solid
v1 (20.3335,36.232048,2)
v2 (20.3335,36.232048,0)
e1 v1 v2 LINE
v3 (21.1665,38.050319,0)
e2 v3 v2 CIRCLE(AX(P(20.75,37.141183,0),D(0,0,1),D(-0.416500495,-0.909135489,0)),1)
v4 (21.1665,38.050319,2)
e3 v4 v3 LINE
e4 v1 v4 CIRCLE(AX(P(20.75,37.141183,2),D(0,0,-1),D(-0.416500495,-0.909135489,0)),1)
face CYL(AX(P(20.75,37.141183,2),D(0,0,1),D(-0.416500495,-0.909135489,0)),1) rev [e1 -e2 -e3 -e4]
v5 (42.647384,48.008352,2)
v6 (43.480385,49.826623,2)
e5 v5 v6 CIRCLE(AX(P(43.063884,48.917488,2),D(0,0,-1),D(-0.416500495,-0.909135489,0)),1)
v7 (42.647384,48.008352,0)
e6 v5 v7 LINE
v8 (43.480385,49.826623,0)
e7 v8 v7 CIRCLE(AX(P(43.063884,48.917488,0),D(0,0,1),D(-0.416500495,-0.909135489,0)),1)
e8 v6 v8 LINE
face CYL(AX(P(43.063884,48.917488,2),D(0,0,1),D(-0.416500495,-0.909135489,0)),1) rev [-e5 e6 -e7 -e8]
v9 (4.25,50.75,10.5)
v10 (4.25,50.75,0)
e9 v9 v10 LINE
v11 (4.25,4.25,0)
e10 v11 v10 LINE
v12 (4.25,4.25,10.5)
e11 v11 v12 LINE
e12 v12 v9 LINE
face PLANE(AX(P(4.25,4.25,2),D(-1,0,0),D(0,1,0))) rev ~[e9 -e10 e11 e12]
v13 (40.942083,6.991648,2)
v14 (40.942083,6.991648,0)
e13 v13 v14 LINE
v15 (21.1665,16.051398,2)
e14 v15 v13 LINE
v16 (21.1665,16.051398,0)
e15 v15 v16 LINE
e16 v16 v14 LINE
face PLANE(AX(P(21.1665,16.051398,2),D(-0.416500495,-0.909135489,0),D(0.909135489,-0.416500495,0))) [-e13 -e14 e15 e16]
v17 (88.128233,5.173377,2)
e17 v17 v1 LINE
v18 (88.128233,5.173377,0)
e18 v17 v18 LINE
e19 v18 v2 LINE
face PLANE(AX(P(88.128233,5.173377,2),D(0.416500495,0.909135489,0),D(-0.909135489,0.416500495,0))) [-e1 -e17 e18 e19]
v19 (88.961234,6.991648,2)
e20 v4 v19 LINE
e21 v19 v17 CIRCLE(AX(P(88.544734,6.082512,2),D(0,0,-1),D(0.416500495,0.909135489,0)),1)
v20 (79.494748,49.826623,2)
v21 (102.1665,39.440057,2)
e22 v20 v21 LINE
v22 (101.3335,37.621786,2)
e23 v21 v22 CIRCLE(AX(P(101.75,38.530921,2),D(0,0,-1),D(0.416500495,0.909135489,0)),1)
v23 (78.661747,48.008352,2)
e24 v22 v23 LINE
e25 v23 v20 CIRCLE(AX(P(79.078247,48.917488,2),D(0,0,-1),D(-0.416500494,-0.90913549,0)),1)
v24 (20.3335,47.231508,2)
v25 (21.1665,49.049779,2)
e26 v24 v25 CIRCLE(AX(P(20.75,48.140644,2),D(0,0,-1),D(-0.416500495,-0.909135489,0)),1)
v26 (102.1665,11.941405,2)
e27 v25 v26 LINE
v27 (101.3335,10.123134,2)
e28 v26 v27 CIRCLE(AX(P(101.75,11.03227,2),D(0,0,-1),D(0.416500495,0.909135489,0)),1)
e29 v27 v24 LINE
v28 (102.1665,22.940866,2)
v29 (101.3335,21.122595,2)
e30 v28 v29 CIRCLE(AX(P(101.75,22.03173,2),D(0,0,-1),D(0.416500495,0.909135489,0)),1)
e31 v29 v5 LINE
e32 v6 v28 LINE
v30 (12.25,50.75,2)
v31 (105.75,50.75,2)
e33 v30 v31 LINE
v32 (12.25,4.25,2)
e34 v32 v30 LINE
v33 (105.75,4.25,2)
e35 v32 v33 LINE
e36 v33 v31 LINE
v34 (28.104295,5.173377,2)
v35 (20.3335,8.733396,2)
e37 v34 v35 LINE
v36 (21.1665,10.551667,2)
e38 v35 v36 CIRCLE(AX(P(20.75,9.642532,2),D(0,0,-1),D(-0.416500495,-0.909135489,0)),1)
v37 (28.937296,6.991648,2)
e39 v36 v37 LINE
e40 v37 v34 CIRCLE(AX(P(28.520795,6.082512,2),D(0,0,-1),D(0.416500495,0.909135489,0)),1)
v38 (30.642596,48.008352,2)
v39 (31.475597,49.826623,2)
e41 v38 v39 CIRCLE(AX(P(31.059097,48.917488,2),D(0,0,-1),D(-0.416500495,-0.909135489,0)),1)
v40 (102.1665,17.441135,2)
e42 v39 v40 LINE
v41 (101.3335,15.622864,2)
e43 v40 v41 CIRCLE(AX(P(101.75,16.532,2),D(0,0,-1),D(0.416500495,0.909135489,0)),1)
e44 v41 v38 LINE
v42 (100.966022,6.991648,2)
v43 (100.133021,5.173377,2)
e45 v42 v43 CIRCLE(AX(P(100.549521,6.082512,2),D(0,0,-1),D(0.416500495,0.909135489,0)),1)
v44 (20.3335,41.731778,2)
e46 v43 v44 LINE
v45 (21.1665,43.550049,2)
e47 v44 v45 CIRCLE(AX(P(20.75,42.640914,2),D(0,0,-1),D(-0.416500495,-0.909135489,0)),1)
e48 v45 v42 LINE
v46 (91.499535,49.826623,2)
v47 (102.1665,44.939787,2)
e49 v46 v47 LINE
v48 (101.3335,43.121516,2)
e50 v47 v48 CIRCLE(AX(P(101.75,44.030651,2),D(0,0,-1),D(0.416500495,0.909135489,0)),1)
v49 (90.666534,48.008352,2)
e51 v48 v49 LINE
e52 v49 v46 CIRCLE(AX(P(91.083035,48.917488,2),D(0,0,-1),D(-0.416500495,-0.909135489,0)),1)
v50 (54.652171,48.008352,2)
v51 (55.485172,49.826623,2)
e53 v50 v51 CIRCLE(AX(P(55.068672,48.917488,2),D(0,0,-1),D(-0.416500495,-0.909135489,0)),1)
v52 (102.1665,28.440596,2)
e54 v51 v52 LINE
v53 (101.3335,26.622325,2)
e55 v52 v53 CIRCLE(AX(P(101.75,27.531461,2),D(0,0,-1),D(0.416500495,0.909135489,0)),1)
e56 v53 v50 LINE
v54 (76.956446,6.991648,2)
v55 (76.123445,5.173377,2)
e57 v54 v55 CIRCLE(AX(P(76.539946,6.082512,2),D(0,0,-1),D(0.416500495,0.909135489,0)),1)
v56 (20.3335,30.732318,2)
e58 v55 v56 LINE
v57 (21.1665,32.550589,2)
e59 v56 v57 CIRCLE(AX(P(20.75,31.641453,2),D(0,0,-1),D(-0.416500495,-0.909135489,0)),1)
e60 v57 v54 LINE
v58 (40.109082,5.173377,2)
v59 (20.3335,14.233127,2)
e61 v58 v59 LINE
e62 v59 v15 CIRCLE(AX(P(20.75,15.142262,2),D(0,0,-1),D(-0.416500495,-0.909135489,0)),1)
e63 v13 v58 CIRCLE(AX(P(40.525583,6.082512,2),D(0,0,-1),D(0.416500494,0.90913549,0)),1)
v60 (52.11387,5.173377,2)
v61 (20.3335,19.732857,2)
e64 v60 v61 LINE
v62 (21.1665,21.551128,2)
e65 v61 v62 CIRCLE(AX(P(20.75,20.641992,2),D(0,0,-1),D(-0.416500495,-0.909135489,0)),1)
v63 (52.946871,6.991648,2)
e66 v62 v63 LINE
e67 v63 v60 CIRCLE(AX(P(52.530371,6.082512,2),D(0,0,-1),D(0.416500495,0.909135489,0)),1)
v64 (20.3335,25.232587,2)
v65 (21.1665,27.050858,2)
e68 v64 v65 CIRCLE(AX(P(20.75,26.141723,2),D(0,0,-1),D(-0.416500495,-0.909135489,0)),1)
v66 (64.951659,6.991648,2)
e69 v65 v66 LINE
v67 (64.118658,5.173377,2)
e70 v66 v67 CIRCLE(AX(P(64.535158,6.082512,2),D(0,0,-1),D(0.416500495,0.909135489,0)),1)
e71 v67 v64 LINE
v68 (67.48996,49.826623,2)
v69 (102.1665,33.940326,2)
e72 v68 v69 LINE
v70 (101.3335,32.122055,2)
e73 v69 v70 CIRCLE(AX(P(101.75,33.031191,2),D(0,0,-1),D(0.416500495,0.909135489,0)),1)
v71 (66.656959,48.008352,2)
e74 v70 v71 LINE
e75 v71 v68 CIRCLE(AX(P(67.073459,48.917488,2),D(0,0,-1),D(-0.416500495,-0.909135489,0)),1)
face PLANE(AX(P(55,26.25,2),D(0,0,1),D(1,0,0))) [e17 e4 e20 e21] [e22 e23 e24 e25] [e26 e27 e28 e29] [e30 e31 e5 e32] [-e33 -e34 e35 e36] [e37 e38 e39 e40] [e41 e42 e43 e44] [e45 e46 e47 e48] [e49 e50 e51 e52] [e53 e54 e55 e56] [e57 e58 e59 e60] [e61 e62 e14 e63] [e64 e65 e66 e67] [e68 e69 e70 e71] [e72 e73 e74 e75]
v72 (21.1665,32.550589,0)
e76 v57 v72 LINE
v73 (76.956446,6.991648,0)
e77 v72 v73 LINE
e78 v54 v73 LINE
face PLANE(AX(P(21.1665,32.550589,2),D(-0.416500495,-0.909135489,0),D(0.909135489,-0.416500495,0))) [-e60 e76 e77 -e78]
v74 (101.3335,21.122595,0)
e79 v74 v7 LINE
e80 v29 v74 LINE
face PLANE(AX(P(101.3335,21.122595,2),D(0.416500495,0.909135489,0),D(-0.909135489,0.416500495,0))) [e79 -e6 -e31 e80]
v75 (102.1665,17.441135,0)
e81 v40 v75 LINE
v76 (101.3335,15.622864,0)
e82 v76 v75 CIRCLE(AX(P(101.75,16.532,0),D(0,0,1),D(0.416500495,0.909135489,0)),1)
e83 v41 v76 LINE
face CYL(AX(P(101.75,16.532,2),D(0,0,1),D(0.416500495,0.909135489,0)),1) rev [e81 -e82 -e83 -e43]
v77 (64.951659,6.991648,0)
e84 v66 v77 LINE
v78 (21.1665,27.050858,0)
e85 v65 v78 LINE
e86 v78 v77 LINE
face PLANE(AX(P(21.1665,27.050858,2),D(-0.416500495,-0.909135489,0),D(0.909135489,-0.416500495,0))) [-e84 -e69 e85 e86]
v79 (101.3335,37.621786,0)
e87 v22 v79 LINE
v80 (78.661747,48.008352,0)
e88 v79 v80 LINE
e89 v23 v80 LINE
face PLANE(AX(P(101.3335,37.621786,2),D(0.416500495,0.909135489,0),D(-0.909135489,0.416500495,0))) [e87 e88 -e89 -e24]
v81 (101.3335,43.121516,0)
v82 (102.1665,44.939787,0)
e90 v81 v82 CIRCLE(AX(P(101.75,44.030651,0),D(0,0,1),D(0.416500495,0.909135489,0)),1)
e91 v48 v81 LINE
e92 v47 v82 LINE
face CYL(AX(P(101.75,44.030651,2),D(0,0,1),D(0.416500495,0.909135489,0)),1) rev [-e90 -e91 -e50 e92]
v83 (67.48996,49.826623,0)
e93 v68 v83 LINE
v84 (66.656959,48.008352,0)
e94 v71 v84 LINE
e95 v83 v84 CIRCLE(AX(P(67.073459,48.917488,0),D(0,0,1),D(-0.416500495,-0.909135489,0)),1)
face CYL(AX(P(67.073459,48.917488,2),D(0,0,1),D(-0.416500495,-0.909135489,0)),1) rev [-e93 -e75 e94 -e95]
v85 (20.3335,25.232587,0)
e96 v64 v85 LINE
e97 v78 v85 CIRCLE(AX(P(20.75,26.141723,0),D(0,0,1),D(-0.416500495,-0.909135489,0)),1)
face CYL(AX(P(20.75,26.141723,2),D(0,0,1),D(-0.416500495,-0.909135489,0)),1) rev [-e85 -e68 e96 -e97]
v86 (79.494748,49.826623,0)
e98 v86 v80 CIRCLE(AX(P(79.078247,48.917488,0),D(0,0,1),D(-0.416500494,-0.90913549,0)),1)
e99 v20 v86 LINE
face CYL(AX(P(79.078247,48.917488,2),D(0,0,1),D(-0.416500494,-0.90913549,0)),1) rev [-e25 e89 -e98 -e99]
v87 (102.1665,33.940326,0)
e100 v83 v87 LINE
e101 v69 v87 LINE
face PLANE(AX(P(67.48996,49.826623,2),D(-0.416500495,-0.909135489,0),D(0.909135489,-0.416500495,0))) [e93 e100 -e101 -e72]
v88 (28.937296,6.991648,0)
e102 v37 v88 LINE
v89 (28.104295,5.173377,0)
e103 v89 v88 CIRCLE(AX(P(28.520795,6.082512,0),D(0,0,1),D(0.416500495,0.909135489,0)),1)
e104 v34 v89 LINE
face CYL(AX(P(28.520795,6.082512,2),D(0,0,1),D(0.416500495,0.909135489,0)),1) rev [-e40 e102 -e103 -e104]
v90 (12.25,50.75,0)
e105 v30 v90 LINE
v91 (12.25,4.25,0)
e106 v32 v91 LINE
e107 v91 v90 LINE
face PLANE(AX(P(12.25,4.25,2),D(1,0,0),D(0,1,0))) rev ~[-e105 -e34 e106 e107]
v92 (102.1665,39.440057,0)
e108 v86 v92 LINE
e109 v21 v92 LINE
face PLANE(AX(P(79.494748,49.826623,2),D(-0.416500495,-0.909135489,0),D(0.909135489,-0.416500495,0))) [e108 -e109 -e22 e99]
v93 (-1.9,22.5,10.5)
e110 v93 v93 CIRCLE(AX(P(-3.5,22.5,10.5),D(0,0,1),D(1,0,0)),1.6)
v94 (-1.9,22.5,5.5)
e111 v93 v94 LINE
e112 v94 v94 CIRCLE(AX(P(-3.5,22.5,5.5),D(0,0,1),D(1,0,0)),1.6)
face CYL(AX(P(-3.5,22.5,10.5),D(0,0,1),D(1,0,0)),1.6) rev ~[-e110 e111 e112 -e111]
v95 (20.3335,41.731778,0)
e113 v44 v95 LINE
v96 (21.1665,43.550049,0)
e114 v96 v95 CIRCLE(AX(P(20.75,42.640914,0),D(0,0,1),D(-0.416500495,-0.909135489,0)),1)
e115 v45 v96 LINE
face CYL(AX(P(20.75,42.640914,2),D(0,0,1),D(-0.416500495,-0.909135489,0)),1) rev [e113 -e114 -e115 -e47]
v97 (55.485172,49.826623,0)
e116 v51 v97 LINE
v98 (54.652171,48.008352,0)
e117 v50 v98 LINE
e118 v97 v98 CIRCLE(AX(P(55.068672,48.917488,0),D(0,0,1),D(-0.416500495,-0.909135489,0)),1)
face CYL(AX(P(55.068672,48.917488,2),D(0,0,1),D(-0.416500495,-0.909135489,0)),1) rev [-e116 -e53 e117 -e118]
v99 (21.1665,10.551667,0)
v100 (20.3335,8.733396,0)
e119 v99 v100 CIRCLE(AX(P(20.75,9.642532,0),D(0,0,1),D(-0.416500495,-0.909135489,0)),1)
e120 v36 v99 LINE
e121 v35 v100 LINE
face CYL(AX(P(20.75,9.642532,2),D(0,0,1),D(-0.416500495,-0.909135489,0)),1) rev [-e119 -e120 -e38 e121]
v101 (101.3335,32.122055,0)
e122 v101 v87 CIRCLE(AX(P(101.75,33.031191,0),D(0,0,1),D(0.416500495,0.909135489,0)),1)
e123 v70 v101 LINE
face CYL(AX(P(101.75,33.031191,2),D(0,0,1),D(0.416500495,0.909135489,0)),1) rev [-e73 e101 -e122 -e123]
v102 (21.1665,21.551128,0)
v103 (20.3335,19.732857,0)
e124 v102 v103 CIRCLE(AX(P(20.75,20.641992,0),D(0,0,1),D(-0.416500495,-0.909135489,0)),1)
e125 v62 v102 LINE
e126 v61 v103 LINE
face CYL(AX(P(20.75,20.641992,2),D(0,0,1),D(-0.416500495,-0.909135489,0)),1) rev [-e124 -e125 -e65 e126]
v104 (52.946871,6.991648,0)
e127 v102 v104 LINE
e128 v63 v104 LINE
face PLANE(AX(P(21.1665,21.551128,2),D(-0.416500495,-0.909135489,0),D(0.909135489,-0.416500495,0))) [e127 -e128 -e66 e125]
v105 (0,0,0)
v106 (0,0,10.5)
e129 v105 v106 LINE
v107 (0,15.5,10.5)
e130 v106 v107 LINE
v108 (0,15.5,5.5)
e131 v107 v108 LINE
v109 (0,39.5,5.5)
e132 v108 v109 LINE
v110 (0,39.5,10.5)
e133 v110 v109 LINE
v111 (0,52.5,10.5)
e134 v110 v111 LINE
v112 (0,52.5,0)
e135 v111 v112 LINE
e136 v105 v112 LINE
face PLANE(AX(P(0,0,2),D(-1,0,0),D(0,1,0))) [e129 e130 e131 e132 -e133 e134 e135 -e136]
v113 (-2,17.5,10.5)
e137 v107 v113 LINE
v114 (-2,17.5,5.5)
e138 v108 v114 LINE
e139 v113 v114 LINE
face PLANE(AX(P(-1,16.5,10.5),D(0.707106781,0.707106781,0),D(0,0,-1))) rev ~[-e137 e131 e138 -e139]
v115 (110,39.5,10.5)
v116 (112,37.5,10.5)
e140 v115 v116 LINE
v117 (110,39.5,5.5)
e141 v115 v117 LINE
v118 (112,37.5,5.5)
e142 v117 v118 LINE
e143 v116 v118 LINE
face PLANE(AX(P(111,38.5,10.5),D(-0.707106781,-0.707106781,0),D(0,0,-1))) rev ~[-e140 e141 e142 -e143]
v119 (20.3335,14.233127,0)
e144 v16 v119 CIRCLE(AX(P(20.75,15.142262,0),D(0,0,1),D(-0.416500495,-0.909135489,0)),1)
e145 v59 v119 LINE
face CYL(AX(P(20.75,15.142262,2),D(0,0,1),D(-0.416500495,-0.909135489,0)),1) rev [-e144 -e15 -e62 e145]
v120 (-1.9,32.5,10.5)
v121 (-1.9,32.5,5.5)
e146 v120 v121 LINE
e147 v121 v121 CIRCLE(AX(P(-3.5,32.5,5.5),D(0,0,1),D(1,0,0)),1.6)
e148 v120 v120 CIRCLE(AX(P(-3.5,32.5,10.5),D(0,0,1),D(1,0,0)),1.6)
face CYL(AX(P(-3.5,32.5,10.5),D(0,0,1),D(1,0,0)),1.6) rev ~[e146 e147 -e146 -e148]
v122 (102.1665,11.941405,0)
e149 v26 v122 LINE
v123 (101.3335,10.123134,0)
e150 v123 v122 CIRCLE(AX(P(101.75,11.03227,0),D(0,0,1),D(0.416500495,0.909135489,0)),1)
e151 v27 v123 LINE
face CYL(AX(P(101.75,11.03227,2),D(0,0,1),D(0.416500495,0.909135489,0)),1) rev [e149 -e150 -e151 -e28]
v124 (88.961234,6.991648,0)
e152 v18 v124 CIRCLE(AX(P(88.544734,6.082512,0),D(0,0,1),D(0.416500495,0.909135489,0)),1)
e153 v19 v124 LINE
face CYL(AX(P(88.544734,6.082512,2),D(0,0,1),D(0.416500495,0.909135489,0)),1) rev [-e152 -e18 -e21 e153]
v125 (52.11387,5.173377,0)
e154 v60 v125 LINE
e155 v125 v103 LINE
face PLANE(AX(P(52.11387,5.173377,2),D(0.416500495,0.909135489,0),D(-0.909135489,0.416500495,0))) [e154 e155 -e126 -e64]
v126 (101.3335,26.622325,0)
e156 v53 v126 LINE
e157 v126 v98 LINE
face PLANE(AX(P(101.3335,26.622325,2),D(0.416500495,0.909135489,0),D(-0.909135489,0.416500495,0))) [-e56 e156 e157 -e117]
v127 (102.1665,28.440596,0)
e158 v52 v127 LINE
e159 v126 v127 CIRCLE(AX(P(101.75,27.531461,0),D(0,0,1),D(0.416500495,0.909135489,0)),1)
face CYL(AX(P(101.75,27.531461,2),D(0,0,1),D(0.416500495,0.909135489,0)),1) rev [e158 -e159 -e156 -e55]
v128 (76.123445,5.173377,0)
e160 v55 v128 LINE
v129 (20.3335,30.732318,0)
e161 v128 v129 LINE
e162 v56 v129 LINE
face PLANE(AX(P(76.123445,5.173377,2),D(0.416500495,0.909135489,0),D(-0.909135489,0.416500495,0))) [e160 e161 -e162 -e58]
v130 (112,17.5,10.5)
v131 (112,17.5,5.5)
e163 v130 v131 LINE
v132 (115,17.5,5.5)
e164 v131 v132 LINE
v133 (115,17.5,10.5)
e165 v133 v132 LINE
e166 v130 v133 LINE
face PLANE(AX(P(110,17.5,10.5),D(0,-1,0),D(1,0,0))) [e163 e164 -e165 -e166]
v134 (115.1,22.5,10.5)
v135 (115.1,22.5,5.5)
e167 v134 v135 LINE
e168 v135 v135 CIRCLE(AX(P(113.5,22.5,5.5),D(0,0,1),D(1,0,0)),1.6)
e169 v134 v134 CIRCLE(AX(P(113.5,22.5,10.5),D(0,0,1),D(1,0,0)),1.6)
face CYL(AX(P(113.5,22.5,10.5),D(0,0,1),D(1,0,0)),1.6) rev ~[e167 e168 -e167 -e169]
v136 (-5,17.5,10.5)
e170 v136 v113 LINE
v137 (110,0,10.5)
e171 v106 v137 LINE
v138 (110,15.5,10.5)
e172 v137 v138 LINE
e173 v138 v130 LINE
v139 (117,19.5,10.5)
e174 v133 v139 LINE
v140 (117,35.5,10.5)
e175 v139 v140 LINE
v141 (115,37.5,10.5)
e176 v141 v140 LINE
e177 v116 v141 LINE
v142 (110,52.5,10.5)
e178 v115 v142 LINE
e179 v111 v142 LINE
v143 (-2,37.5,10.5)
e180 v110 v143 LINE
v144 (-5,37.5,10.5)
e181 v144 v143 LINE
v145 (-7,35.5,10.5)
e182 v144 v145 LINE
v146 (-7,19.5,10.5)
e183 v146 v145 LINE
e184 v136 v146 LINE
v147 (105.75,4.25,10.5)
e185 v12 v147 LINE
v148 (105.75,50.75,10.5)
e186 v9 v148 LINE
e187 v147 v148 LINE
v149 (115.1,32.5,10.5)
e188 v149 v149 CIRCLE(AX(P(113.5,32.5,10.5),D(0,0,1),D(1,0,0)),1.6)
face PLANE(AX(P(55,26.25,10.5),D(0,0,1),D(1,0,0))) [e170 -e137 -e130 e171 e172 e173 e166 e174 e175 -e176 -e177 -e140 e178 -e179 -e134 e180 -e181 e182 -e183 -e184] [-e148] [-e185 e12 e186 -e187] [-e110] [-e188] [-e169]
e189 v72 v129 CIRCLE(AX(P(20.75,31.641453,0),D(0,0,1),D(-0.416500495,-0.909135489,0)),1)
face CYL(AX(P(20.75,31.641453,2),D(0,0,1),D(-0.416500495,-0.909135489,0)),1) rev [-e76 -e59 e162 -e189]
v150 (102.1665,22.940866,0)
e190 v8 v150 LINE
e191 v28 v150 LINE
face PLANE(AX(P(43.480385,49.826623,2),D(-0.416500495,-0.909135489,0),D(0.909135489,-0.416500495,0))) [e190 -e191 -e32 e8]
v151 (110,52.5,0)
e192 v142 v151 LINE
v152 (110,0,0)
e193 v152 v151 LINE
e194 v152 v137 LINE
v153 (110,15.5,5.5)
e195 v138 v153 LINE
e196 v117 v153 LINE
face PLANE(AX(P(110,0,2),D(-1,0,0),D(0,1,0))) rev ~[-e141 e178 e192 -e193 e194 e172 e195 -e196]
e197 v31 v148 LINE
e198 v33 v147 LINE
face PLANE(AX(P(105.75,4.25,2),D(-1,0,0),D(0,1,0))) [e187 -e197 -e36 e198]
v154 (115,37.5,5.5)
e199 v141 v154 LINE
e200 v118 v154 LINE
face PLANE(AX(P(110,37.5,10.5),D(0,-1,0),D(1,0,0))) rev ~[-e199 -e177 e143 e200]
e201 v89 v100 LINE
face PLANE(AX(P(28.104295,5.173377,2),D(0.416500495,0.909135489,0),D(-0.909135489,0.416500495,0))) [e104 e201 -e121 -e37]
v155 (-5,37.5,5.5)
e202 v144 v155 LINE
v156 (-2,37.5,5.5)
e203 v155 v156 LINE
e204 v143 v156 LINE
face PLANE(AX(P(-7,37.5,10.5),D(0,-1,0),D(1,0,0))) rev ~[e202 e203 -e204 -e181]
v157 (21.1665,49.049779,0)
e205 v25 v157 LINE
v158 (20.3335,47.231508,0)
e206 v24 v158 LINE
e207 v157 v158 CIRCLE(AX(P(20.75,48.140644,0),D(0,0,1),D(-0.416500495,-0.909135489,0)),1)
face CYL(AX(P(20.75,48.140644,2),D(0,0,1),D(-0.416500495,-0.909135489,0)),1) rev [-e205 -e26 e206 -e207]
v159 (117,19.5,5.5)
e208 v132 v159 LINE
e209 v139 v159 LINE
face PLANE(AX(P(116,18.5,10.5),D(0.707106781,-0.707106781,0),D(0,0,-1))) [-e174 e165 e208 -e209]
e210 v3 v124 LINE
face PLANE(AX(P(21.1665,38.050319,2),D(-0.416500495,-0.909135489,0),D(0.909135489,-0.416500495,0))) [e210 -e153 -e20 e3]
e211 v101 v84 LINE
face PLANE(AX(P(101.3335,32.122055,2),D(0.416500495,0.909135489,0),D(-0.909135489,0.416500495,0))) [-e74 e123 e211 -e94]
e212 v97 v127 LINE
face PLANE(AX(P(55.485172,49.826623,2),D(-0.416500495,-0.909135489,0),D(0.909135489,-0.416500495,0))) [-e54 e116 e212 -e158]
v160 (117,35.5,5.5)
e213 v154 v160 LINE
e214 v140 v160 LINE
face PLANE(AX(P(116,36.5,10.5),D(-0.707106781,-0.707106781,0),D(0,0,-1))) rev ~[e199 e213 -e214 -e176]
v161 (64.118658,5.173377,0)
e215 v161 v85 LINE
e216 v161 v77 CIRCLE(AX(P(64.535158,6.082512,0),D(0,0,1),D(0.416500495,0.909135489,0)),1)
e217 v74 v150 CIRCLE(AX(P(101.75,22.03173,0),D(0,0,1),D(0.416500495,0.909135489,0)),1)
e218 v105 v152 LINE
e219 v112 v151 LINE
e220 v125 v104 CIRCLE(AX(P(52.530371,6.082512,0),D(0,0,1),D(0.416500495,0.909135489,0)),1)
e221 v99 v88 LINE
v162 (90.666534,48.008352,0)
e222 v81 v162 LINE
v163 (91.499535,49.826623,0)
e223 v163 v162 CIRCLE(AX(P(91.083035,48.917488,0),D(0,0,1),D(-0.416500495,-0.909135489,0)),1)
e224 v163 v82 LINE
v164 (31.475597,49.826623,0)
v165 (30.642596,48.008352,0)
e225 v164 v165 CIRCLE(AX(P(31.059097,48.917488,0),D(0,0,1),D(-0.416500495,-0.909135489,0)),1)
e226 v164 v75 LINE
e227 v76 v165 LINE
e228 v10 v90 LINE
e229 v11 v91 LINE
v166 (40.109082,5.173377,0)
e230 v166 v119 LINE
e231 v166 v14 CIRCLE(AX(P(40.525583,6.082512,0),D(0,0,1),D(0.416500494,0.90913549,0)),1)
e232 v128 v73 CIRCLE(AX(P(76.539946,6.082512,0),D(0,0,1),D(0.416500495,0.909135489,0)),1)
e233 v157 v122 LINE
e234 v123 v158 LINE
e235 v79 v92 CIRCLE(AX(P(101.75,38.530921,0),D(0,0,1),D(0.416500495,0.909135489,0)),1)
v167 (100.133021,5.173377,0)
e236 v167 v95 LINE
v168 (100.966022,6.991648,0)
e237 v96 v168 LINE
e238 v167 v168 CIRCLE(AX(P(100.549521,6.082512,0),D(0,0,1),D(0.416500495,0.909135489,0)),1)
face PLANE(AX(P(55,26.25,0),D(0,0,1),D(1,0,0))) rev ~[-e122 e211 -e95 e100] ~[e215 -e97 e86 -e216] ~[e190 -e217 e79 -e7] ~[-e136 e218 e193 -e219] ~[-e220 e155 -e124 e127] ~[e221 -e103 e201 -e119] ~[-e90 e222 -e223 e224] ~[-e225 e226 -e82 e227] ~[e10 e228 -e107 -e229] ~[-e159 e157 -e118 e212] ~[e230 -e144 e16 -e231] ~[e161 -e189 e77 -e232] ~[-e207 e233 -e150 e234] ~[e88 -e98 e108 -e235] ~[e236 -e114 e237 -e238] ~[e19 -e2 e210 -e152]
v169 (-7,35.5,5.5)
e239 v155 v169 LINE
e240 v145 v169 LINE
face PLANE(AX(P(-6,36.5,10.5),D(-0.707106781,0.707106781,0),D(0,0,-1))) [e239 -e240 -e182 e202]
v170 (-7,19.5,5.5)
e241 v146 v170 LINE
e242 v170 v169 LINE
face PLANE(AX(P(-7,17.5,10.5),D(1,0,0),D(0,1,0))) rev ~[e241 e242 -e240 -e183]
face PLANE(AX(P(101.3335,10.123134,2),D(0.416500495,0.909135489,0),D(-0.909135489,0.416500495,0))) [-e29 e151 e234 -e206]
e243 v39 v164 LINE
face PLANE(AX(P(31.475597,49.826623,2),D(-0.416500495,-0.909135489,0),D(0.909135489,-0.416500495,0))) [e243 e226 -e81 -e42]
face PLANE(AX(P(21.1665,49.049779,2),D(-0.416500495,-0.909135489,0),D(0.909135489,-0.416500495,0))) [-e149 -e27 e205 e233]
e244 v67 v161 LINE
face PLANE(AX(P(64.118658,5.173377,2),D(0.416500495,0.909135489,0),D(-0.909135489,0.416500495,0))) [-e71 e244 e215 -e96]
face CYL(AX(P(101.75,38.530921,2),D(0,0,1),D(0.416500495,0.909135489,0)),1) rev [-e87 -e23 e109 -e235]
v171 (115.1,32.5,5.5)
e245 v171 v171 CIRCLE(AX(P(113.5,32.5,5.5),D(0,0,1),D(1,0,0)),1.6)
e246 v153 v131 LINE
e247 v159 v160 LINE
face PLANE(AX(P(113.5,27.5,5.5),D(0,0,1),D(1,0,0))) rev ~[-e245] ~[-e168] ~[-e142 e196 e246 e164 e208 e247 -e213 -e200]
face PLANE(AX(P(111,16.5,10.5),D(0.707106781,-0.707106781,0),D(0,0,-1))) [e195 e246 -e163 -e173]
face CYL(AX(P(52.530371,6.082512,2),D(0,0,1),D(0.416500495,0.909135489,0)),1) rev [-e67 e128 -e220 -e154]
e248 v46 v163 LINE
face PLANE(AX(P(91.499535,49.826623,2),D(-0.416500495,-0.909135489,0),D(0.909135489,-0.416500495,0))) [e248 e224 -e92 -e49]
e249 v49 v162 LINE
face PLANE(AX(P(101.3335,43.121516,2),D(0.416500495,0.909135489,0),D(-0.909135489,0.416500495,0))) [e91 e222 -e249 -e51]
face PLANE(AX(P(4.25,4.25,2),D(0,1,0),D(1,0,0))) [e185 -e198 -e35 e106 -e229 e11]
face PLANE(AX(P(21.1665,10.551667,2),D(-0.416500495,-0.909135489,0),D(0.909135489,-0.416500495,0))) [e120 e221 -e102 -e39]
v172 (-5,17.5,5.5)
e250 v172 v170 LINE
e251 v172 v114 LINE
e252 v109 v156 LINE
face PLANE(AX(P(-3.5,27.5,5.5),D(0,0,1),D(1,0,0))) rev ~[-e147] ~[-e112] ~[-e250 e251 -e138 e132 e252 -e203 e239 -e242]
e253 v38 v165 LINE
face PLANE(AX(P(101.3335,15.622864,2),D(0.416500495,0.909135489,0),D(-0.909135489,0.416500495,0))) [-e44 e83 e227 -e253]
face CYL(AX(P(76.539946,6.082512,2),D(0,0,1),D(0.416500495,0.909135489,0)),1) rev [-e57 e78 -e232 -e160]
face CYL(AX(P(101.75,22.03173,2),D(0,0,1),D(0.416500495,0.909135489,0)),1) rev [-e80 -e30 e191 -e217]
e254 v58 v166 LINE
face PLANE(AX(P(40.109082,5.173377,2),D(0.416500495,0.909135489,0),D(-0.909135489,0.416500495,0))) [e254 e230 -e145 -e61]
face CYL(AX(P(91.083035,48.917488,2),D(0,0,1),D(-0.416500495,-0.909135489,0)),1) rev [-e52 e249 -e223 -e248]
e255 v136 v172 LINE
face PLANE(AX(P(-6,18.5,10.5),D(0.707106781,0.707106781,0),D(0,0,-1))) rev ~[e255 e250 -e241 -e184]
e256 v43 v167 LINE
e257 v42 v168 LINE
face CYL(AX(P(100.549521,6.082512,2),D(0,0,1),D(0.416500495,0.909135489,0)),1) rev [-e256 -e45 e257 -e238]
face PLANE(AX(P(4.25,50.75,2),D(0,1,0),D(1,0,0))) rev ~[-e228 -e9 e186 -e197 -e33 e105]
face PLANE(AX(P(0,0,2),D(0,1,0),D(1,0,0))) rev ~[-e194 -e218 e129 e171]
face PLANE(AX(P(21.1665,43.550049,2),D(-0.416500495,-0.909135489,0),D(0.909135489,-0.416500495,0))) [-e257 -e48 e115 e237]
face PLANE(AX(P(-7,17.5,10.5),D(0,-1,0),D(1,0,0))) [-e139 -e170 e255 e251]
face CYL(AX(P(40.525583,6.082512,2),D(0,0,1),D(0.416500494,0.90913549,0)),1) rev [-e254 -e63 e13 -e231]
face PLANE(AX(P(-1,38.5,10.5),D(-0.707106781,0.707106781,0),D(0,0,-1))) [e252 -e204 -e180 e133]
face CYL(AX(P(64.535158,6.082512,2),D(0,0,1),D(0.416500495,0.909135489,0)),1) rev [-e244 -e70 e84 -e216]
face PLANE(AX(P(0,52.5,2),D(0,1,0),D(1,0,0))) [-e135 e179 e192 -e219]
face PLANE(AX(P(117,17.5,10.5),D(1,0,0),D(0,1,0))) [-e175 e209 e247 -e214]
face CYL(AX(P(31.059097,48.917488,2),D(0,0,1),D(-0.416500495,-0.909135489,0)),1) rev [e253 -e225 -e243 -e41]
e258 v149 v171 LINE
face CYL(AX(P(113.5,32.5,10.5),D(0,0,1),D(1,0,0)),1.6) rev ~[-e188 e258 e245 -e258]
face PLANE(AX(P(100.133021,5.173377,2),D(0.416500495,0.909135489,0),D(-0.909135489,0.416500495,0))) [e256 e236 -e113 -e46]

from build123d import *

# Parameters (mm, degrees)
SKETCH_1_W          = 110
SKETCH_1_H          = 52.5
EXTRUDE_1_DEPTH     = 2
SKETCH_2_W          = 110
SKETCH_2_H          = 52.5
SKETCH_2_W_2        = 101.5
SKETCH_2_H_2        = 46.5
EXTRUDE_2_DEPTH     = 8.5
CUT_EXTRUDE_1_DEPTH = 3
SKETCH_5_W          = 8
SKETCH_5_H          = 46.5
CUT_EXTRUDE_2_DEPTH = 3
SKETCH_6_W          = 7
SKETCH_6_H          = 20
SKETCH_6_R          = 1.6
EXTRUDE_3_DEPTH     = 5
CHAMFER_1_SIZE      = 2


with BuildPart() as part:
    # 草图1 → 凸台-拉伸1 (new body)
    with BuildSketch(Plane.XY):
        with Locations((55, 26.25)):
            Rectangle(SKETCH_1_W, SKETCH_1_H)
    extrude(amount=EXTRUDE_1_DEPTH)

    # 草图2 → 凸台-拉伸2 (add)
    with BuildSketch(Plane.XY.offset(2)):
        with Locations((55, 26.25)):
            Rectangle(SKETCH_2_W, SKETCH_2_H)
        with Locations((55, 27.5)):
            Rectangle(SKETCH_2_W_2, SKETCH_2_H_2, mode=Mode.SUBTRACT)
    extrude(amount=EXTRUDE_2_DEPTH)

    # 草图3 → 切除-拉伸1 (cut, through all)
    with BuildSketch(Plane.XY.offset(2)):
        with BuildLine():
            Line((21.166500495, 10.551667335), (28.937295815, 6.991647804))
            ThreePointArc((28.937295815, 6.991647804), (29.429930809, 5.66601182), (28.104294825, 5.173376826))
            Line((28.104294825, 5.173376826), (20.333499505, 8.733396357))
            ThreePointArc((20.333499505, 8.733396357), (19.840864511, 10.059032341), (21.166500495, 10.551667335))
        make_face()
        with BuildLine():
            Line((91.499535297, 49.826623174), (102.166500495, 44.939786901))
            ThreePointArc((102.166500495, 44.939786901), (102.659135489, 43.614150917), (101.333499505, 43.121515923))
            Line((101.333499505, 43.121515923), (90.666534307, 48.008352196))
            ThreePointArc((90.666534307, 48.008352196), (90.173899313, 49.33398818), (91.499535297, 49.826623174))
        make_face()
        with BuildLine():
            Line((21.166500495, 16.051397639), (40.942083467, 6.991647804))
            ThreePointArc((40.942083467, 6.991647804), (41.434718462, 5.66601182), (40.109082477, 5.173376826))
            Line((40.109082477, 5.173376826), (20.333499505, 14.233126661))
            ThreePointArc((20.333499505, 14.233126661), (19.840864511, 15.558762645), (21.166500495, 16.051397639))
        make_face()
        with BuildLine():
            Line((21.166500495, 21.551127943), (52.94687112, 6.991647804))
            ThreePointArc((52.94687112, 6.991647804), (53.439506114, 5.66601182), (52.11387013, 5.173376826))
            Line((52.11387013, 5.173376826), (20.333499505, 19.732856965))
            ThreePointArc((20.333499505, 19.732856965), (19.840864511, 21.058492949), (21.166500495, 21.551127943))
        make_face()
        with BuildLine():
            Line((21.166500495, 32.550588551), (76.956446425, 6.991647804))
            ThreePointArc((76.956446425, 6.991647804), (77.449081419, 5.66601182), (76.123445435, 5.173376826))
            Line((76.123445435, 5.173376826), (20.333499505, 30.732317572))
            ThreePointArc((20.333499505, 30.732317572), (19.840864511, 32.057953556), (21.166500495, 32.550588551))
        make_face()
        with BuildLine():
            Line((21.166500495, 27.050858247), (64.951658772, 6.991647804))
            ThreePointArc((64.951658772, 6.991647804), (65.444293766, 5.66601182), (64.118657782, 5.173376826))
            Line((64.118657782, 5.173376826), (20.333499505, 25.232587268))
            ThreePointArc((20.333499505, 25.232587268), (19.840864511, 26.558223253), (21.166500495, 27.050858247))
        make_face()
        with BuildLine():
            Line((21.166500495, 38.050318854), (88.961234077, 6.991647804))
            ThreePointArc((88.961234077, 6.991647804), (89.453869071, 5.66601182), (88.128233087, 5.173376826))
            Line((88.128233087, 5.173376826), (20.333499505, 36.232047876))
            ThreePointArc((20.333499505, 36.232047876), (19.840864511, 37.55768386), (21.166500495, 38.050318854))
        make_face()
        with BuildLine():
            Line((21.166500495, 43.550049158), (100.96602173, 6.991647804))
            ThreePointArc((100.96602173, 6.991647804), (101.458656724, 5.66601182), (100.13302074, 5.173376826))
            Line((100.13302074, 5.173376826), (20.333499505, 41.73177818))
            ThreePointArc((20.333499505, 41.73177818), (19.840864511, 43.057414164), (21.166500495, 43.550049158))
        make_face()
        with BuildLine():
            Line((21.166500495, 49.049779462), (102.166500495, 11.941405078))
            ThreePointArc((102.166500495, 11.941405078), (102.659135489, 10.615769094), (101.333499505, 10.1231341))
            Line((101.333499505, 10.1231341), (20.333499505, 47.231508484))
            ThreePointArc((20.333499505, 47.231508484), (19.840864511, 48.557144468), (21.166500495, 49.049779462))
        make_face()
        with BuildLine():
            Line((31.475597035, 49.826623174), (102.166500495, 17.441135382))
            ThreePointArc((102.166500495, 17.441135382), (102.659135489, 16.115499398), (101.333499505, 15.622864403))
            Line((101.333499505, 15.622864403), (30.642596045, 48.008352196))
            ThreePointArc((30.642596045, 48.008352196), (30.149961051, 49.33398818), (31.475597035, 49.826623174))
        make_face()
        with BuildLine():
            Line((43.480384687, 49.826623174), (102.166500495, 22.940865686))
            ThreePointArc((102.166500495, 22.940865686), (102.659135489, 21.615229701), (101.333499505, 21.122594707))
            Line((101.333499505, 21.122594707), (42.647383697, 48.008352196))
            ThreePointArc((42.647383697, 48.008352196), (42.154748703, 49.33398818), (43.480384687, 49.826623174))
        make_face()
        with BuildLine():
            Line((55.48517234, 49.826623174), (102.166500495, 28.440595989))
            ThreePointArc((102.166500495, 28.440595989), (102.659135489, 27.114960005), (101.333499505, 26.622325011))
            Line((101.333499505, 26.622325011), (54.65217135, 48.008352196))
            ThreePointArc((54.65217135, 48.008352196), (54.159536356, 49.33398818), (55.48517234, 49.826623174))
        make_face()
        with BuildLine():
            Line((67.489959992, 49.826623174), (102.166500495, 33.940326293))
            ThreePointArc((102.166500495, 33.940326293), (102.659135489, 32.614690309), (101.333499505, 32.122055315))
            Line((101.333499505, 32.122055315), (66.656959002, 48.008352196))
            ThreePointArc((66.656959002, 48.008352196), (66.164324008, 49.33398818), (67.489959992, 49.826623174))
        make_face()
        with BuildLine():
            Line((79.494747645, 49.826623174), (102.166500495, 39.440056597))
            ThreePointArc((102.166500495, 39.440056597), (102.659135489, 38.114420613), (101.333499505, 37.621785619))
            Line((101.333499505, 37.621785619), (78.661746655, 48.008352196))
            ThreePointArc((78.661746655, 48.008352196), (78.16911166, 49.33398818), (79.494747645, 49.826623174))
        make_face()
    extrude(amount=-CUT_EXTRUDE_1_DEPTH, mode=Mode.SUBTRACT)

    # 草图5 → 切除-拉伸2 (cut, through all)
    with BuildSketch(Plane.XY.offset(2)):
        with Locations((8.25, 27.5)):
            Rectangle(SKETCH_5_W, SKETCH_5_H)
    extrude(amount=-CUT_EXTRUDE_2_DEPTH, mode=Mode.SUBTRACT)

    # 草图6 → 凸台-拉伸3 (add)
    with BuildSketch(Plane.XY.offset(10.5)):
        with Locations((113.5, 27.5)):
            Rectangle(SKETCH_6_W, SKETCH_6_H)
        with Locations((113.5, 32.5)):
            Circle(SKETCH_6_R, mode=Mode.SUBTRACT)
        with Locations((113.5, 22.5)):
            Circle(SKETCH_6_R, mode=Mode.SUBTRACT)
        with Locations((-3.5, 27.5)):
            Rectangle(SKETCH_6_W, SKETCH_6_H)
        with Locations((-3.5, 22.5)):
            Circle(SKETCH_6_R, mode=Mode.SUBTRACT)
        with Locations((-3.5, 32.5)):
            Circle(SKETCH_6_R, mode=Mode.SUBTRACT)
    extrude(amount=-EXTRUDE_3_DEPTH)

    # 倒角1
    chamfer_1_edges = [part.edges().sort_by_distance(p)[0] for p in [
        (110, 17.5, 8),
        (110, 37.5, 8),
        (117, 37.5, 8),
        (117, 17.5, 8),
        (0, 37.5, 8),
        (0, 17.5, 8),
        (-7, 17.5, 8),
        (-7, 37.5, 8),
    ]]
    chamfer(chamfer_1_edges, length=CHAMFER_1_SIZE)


solid = part.part
